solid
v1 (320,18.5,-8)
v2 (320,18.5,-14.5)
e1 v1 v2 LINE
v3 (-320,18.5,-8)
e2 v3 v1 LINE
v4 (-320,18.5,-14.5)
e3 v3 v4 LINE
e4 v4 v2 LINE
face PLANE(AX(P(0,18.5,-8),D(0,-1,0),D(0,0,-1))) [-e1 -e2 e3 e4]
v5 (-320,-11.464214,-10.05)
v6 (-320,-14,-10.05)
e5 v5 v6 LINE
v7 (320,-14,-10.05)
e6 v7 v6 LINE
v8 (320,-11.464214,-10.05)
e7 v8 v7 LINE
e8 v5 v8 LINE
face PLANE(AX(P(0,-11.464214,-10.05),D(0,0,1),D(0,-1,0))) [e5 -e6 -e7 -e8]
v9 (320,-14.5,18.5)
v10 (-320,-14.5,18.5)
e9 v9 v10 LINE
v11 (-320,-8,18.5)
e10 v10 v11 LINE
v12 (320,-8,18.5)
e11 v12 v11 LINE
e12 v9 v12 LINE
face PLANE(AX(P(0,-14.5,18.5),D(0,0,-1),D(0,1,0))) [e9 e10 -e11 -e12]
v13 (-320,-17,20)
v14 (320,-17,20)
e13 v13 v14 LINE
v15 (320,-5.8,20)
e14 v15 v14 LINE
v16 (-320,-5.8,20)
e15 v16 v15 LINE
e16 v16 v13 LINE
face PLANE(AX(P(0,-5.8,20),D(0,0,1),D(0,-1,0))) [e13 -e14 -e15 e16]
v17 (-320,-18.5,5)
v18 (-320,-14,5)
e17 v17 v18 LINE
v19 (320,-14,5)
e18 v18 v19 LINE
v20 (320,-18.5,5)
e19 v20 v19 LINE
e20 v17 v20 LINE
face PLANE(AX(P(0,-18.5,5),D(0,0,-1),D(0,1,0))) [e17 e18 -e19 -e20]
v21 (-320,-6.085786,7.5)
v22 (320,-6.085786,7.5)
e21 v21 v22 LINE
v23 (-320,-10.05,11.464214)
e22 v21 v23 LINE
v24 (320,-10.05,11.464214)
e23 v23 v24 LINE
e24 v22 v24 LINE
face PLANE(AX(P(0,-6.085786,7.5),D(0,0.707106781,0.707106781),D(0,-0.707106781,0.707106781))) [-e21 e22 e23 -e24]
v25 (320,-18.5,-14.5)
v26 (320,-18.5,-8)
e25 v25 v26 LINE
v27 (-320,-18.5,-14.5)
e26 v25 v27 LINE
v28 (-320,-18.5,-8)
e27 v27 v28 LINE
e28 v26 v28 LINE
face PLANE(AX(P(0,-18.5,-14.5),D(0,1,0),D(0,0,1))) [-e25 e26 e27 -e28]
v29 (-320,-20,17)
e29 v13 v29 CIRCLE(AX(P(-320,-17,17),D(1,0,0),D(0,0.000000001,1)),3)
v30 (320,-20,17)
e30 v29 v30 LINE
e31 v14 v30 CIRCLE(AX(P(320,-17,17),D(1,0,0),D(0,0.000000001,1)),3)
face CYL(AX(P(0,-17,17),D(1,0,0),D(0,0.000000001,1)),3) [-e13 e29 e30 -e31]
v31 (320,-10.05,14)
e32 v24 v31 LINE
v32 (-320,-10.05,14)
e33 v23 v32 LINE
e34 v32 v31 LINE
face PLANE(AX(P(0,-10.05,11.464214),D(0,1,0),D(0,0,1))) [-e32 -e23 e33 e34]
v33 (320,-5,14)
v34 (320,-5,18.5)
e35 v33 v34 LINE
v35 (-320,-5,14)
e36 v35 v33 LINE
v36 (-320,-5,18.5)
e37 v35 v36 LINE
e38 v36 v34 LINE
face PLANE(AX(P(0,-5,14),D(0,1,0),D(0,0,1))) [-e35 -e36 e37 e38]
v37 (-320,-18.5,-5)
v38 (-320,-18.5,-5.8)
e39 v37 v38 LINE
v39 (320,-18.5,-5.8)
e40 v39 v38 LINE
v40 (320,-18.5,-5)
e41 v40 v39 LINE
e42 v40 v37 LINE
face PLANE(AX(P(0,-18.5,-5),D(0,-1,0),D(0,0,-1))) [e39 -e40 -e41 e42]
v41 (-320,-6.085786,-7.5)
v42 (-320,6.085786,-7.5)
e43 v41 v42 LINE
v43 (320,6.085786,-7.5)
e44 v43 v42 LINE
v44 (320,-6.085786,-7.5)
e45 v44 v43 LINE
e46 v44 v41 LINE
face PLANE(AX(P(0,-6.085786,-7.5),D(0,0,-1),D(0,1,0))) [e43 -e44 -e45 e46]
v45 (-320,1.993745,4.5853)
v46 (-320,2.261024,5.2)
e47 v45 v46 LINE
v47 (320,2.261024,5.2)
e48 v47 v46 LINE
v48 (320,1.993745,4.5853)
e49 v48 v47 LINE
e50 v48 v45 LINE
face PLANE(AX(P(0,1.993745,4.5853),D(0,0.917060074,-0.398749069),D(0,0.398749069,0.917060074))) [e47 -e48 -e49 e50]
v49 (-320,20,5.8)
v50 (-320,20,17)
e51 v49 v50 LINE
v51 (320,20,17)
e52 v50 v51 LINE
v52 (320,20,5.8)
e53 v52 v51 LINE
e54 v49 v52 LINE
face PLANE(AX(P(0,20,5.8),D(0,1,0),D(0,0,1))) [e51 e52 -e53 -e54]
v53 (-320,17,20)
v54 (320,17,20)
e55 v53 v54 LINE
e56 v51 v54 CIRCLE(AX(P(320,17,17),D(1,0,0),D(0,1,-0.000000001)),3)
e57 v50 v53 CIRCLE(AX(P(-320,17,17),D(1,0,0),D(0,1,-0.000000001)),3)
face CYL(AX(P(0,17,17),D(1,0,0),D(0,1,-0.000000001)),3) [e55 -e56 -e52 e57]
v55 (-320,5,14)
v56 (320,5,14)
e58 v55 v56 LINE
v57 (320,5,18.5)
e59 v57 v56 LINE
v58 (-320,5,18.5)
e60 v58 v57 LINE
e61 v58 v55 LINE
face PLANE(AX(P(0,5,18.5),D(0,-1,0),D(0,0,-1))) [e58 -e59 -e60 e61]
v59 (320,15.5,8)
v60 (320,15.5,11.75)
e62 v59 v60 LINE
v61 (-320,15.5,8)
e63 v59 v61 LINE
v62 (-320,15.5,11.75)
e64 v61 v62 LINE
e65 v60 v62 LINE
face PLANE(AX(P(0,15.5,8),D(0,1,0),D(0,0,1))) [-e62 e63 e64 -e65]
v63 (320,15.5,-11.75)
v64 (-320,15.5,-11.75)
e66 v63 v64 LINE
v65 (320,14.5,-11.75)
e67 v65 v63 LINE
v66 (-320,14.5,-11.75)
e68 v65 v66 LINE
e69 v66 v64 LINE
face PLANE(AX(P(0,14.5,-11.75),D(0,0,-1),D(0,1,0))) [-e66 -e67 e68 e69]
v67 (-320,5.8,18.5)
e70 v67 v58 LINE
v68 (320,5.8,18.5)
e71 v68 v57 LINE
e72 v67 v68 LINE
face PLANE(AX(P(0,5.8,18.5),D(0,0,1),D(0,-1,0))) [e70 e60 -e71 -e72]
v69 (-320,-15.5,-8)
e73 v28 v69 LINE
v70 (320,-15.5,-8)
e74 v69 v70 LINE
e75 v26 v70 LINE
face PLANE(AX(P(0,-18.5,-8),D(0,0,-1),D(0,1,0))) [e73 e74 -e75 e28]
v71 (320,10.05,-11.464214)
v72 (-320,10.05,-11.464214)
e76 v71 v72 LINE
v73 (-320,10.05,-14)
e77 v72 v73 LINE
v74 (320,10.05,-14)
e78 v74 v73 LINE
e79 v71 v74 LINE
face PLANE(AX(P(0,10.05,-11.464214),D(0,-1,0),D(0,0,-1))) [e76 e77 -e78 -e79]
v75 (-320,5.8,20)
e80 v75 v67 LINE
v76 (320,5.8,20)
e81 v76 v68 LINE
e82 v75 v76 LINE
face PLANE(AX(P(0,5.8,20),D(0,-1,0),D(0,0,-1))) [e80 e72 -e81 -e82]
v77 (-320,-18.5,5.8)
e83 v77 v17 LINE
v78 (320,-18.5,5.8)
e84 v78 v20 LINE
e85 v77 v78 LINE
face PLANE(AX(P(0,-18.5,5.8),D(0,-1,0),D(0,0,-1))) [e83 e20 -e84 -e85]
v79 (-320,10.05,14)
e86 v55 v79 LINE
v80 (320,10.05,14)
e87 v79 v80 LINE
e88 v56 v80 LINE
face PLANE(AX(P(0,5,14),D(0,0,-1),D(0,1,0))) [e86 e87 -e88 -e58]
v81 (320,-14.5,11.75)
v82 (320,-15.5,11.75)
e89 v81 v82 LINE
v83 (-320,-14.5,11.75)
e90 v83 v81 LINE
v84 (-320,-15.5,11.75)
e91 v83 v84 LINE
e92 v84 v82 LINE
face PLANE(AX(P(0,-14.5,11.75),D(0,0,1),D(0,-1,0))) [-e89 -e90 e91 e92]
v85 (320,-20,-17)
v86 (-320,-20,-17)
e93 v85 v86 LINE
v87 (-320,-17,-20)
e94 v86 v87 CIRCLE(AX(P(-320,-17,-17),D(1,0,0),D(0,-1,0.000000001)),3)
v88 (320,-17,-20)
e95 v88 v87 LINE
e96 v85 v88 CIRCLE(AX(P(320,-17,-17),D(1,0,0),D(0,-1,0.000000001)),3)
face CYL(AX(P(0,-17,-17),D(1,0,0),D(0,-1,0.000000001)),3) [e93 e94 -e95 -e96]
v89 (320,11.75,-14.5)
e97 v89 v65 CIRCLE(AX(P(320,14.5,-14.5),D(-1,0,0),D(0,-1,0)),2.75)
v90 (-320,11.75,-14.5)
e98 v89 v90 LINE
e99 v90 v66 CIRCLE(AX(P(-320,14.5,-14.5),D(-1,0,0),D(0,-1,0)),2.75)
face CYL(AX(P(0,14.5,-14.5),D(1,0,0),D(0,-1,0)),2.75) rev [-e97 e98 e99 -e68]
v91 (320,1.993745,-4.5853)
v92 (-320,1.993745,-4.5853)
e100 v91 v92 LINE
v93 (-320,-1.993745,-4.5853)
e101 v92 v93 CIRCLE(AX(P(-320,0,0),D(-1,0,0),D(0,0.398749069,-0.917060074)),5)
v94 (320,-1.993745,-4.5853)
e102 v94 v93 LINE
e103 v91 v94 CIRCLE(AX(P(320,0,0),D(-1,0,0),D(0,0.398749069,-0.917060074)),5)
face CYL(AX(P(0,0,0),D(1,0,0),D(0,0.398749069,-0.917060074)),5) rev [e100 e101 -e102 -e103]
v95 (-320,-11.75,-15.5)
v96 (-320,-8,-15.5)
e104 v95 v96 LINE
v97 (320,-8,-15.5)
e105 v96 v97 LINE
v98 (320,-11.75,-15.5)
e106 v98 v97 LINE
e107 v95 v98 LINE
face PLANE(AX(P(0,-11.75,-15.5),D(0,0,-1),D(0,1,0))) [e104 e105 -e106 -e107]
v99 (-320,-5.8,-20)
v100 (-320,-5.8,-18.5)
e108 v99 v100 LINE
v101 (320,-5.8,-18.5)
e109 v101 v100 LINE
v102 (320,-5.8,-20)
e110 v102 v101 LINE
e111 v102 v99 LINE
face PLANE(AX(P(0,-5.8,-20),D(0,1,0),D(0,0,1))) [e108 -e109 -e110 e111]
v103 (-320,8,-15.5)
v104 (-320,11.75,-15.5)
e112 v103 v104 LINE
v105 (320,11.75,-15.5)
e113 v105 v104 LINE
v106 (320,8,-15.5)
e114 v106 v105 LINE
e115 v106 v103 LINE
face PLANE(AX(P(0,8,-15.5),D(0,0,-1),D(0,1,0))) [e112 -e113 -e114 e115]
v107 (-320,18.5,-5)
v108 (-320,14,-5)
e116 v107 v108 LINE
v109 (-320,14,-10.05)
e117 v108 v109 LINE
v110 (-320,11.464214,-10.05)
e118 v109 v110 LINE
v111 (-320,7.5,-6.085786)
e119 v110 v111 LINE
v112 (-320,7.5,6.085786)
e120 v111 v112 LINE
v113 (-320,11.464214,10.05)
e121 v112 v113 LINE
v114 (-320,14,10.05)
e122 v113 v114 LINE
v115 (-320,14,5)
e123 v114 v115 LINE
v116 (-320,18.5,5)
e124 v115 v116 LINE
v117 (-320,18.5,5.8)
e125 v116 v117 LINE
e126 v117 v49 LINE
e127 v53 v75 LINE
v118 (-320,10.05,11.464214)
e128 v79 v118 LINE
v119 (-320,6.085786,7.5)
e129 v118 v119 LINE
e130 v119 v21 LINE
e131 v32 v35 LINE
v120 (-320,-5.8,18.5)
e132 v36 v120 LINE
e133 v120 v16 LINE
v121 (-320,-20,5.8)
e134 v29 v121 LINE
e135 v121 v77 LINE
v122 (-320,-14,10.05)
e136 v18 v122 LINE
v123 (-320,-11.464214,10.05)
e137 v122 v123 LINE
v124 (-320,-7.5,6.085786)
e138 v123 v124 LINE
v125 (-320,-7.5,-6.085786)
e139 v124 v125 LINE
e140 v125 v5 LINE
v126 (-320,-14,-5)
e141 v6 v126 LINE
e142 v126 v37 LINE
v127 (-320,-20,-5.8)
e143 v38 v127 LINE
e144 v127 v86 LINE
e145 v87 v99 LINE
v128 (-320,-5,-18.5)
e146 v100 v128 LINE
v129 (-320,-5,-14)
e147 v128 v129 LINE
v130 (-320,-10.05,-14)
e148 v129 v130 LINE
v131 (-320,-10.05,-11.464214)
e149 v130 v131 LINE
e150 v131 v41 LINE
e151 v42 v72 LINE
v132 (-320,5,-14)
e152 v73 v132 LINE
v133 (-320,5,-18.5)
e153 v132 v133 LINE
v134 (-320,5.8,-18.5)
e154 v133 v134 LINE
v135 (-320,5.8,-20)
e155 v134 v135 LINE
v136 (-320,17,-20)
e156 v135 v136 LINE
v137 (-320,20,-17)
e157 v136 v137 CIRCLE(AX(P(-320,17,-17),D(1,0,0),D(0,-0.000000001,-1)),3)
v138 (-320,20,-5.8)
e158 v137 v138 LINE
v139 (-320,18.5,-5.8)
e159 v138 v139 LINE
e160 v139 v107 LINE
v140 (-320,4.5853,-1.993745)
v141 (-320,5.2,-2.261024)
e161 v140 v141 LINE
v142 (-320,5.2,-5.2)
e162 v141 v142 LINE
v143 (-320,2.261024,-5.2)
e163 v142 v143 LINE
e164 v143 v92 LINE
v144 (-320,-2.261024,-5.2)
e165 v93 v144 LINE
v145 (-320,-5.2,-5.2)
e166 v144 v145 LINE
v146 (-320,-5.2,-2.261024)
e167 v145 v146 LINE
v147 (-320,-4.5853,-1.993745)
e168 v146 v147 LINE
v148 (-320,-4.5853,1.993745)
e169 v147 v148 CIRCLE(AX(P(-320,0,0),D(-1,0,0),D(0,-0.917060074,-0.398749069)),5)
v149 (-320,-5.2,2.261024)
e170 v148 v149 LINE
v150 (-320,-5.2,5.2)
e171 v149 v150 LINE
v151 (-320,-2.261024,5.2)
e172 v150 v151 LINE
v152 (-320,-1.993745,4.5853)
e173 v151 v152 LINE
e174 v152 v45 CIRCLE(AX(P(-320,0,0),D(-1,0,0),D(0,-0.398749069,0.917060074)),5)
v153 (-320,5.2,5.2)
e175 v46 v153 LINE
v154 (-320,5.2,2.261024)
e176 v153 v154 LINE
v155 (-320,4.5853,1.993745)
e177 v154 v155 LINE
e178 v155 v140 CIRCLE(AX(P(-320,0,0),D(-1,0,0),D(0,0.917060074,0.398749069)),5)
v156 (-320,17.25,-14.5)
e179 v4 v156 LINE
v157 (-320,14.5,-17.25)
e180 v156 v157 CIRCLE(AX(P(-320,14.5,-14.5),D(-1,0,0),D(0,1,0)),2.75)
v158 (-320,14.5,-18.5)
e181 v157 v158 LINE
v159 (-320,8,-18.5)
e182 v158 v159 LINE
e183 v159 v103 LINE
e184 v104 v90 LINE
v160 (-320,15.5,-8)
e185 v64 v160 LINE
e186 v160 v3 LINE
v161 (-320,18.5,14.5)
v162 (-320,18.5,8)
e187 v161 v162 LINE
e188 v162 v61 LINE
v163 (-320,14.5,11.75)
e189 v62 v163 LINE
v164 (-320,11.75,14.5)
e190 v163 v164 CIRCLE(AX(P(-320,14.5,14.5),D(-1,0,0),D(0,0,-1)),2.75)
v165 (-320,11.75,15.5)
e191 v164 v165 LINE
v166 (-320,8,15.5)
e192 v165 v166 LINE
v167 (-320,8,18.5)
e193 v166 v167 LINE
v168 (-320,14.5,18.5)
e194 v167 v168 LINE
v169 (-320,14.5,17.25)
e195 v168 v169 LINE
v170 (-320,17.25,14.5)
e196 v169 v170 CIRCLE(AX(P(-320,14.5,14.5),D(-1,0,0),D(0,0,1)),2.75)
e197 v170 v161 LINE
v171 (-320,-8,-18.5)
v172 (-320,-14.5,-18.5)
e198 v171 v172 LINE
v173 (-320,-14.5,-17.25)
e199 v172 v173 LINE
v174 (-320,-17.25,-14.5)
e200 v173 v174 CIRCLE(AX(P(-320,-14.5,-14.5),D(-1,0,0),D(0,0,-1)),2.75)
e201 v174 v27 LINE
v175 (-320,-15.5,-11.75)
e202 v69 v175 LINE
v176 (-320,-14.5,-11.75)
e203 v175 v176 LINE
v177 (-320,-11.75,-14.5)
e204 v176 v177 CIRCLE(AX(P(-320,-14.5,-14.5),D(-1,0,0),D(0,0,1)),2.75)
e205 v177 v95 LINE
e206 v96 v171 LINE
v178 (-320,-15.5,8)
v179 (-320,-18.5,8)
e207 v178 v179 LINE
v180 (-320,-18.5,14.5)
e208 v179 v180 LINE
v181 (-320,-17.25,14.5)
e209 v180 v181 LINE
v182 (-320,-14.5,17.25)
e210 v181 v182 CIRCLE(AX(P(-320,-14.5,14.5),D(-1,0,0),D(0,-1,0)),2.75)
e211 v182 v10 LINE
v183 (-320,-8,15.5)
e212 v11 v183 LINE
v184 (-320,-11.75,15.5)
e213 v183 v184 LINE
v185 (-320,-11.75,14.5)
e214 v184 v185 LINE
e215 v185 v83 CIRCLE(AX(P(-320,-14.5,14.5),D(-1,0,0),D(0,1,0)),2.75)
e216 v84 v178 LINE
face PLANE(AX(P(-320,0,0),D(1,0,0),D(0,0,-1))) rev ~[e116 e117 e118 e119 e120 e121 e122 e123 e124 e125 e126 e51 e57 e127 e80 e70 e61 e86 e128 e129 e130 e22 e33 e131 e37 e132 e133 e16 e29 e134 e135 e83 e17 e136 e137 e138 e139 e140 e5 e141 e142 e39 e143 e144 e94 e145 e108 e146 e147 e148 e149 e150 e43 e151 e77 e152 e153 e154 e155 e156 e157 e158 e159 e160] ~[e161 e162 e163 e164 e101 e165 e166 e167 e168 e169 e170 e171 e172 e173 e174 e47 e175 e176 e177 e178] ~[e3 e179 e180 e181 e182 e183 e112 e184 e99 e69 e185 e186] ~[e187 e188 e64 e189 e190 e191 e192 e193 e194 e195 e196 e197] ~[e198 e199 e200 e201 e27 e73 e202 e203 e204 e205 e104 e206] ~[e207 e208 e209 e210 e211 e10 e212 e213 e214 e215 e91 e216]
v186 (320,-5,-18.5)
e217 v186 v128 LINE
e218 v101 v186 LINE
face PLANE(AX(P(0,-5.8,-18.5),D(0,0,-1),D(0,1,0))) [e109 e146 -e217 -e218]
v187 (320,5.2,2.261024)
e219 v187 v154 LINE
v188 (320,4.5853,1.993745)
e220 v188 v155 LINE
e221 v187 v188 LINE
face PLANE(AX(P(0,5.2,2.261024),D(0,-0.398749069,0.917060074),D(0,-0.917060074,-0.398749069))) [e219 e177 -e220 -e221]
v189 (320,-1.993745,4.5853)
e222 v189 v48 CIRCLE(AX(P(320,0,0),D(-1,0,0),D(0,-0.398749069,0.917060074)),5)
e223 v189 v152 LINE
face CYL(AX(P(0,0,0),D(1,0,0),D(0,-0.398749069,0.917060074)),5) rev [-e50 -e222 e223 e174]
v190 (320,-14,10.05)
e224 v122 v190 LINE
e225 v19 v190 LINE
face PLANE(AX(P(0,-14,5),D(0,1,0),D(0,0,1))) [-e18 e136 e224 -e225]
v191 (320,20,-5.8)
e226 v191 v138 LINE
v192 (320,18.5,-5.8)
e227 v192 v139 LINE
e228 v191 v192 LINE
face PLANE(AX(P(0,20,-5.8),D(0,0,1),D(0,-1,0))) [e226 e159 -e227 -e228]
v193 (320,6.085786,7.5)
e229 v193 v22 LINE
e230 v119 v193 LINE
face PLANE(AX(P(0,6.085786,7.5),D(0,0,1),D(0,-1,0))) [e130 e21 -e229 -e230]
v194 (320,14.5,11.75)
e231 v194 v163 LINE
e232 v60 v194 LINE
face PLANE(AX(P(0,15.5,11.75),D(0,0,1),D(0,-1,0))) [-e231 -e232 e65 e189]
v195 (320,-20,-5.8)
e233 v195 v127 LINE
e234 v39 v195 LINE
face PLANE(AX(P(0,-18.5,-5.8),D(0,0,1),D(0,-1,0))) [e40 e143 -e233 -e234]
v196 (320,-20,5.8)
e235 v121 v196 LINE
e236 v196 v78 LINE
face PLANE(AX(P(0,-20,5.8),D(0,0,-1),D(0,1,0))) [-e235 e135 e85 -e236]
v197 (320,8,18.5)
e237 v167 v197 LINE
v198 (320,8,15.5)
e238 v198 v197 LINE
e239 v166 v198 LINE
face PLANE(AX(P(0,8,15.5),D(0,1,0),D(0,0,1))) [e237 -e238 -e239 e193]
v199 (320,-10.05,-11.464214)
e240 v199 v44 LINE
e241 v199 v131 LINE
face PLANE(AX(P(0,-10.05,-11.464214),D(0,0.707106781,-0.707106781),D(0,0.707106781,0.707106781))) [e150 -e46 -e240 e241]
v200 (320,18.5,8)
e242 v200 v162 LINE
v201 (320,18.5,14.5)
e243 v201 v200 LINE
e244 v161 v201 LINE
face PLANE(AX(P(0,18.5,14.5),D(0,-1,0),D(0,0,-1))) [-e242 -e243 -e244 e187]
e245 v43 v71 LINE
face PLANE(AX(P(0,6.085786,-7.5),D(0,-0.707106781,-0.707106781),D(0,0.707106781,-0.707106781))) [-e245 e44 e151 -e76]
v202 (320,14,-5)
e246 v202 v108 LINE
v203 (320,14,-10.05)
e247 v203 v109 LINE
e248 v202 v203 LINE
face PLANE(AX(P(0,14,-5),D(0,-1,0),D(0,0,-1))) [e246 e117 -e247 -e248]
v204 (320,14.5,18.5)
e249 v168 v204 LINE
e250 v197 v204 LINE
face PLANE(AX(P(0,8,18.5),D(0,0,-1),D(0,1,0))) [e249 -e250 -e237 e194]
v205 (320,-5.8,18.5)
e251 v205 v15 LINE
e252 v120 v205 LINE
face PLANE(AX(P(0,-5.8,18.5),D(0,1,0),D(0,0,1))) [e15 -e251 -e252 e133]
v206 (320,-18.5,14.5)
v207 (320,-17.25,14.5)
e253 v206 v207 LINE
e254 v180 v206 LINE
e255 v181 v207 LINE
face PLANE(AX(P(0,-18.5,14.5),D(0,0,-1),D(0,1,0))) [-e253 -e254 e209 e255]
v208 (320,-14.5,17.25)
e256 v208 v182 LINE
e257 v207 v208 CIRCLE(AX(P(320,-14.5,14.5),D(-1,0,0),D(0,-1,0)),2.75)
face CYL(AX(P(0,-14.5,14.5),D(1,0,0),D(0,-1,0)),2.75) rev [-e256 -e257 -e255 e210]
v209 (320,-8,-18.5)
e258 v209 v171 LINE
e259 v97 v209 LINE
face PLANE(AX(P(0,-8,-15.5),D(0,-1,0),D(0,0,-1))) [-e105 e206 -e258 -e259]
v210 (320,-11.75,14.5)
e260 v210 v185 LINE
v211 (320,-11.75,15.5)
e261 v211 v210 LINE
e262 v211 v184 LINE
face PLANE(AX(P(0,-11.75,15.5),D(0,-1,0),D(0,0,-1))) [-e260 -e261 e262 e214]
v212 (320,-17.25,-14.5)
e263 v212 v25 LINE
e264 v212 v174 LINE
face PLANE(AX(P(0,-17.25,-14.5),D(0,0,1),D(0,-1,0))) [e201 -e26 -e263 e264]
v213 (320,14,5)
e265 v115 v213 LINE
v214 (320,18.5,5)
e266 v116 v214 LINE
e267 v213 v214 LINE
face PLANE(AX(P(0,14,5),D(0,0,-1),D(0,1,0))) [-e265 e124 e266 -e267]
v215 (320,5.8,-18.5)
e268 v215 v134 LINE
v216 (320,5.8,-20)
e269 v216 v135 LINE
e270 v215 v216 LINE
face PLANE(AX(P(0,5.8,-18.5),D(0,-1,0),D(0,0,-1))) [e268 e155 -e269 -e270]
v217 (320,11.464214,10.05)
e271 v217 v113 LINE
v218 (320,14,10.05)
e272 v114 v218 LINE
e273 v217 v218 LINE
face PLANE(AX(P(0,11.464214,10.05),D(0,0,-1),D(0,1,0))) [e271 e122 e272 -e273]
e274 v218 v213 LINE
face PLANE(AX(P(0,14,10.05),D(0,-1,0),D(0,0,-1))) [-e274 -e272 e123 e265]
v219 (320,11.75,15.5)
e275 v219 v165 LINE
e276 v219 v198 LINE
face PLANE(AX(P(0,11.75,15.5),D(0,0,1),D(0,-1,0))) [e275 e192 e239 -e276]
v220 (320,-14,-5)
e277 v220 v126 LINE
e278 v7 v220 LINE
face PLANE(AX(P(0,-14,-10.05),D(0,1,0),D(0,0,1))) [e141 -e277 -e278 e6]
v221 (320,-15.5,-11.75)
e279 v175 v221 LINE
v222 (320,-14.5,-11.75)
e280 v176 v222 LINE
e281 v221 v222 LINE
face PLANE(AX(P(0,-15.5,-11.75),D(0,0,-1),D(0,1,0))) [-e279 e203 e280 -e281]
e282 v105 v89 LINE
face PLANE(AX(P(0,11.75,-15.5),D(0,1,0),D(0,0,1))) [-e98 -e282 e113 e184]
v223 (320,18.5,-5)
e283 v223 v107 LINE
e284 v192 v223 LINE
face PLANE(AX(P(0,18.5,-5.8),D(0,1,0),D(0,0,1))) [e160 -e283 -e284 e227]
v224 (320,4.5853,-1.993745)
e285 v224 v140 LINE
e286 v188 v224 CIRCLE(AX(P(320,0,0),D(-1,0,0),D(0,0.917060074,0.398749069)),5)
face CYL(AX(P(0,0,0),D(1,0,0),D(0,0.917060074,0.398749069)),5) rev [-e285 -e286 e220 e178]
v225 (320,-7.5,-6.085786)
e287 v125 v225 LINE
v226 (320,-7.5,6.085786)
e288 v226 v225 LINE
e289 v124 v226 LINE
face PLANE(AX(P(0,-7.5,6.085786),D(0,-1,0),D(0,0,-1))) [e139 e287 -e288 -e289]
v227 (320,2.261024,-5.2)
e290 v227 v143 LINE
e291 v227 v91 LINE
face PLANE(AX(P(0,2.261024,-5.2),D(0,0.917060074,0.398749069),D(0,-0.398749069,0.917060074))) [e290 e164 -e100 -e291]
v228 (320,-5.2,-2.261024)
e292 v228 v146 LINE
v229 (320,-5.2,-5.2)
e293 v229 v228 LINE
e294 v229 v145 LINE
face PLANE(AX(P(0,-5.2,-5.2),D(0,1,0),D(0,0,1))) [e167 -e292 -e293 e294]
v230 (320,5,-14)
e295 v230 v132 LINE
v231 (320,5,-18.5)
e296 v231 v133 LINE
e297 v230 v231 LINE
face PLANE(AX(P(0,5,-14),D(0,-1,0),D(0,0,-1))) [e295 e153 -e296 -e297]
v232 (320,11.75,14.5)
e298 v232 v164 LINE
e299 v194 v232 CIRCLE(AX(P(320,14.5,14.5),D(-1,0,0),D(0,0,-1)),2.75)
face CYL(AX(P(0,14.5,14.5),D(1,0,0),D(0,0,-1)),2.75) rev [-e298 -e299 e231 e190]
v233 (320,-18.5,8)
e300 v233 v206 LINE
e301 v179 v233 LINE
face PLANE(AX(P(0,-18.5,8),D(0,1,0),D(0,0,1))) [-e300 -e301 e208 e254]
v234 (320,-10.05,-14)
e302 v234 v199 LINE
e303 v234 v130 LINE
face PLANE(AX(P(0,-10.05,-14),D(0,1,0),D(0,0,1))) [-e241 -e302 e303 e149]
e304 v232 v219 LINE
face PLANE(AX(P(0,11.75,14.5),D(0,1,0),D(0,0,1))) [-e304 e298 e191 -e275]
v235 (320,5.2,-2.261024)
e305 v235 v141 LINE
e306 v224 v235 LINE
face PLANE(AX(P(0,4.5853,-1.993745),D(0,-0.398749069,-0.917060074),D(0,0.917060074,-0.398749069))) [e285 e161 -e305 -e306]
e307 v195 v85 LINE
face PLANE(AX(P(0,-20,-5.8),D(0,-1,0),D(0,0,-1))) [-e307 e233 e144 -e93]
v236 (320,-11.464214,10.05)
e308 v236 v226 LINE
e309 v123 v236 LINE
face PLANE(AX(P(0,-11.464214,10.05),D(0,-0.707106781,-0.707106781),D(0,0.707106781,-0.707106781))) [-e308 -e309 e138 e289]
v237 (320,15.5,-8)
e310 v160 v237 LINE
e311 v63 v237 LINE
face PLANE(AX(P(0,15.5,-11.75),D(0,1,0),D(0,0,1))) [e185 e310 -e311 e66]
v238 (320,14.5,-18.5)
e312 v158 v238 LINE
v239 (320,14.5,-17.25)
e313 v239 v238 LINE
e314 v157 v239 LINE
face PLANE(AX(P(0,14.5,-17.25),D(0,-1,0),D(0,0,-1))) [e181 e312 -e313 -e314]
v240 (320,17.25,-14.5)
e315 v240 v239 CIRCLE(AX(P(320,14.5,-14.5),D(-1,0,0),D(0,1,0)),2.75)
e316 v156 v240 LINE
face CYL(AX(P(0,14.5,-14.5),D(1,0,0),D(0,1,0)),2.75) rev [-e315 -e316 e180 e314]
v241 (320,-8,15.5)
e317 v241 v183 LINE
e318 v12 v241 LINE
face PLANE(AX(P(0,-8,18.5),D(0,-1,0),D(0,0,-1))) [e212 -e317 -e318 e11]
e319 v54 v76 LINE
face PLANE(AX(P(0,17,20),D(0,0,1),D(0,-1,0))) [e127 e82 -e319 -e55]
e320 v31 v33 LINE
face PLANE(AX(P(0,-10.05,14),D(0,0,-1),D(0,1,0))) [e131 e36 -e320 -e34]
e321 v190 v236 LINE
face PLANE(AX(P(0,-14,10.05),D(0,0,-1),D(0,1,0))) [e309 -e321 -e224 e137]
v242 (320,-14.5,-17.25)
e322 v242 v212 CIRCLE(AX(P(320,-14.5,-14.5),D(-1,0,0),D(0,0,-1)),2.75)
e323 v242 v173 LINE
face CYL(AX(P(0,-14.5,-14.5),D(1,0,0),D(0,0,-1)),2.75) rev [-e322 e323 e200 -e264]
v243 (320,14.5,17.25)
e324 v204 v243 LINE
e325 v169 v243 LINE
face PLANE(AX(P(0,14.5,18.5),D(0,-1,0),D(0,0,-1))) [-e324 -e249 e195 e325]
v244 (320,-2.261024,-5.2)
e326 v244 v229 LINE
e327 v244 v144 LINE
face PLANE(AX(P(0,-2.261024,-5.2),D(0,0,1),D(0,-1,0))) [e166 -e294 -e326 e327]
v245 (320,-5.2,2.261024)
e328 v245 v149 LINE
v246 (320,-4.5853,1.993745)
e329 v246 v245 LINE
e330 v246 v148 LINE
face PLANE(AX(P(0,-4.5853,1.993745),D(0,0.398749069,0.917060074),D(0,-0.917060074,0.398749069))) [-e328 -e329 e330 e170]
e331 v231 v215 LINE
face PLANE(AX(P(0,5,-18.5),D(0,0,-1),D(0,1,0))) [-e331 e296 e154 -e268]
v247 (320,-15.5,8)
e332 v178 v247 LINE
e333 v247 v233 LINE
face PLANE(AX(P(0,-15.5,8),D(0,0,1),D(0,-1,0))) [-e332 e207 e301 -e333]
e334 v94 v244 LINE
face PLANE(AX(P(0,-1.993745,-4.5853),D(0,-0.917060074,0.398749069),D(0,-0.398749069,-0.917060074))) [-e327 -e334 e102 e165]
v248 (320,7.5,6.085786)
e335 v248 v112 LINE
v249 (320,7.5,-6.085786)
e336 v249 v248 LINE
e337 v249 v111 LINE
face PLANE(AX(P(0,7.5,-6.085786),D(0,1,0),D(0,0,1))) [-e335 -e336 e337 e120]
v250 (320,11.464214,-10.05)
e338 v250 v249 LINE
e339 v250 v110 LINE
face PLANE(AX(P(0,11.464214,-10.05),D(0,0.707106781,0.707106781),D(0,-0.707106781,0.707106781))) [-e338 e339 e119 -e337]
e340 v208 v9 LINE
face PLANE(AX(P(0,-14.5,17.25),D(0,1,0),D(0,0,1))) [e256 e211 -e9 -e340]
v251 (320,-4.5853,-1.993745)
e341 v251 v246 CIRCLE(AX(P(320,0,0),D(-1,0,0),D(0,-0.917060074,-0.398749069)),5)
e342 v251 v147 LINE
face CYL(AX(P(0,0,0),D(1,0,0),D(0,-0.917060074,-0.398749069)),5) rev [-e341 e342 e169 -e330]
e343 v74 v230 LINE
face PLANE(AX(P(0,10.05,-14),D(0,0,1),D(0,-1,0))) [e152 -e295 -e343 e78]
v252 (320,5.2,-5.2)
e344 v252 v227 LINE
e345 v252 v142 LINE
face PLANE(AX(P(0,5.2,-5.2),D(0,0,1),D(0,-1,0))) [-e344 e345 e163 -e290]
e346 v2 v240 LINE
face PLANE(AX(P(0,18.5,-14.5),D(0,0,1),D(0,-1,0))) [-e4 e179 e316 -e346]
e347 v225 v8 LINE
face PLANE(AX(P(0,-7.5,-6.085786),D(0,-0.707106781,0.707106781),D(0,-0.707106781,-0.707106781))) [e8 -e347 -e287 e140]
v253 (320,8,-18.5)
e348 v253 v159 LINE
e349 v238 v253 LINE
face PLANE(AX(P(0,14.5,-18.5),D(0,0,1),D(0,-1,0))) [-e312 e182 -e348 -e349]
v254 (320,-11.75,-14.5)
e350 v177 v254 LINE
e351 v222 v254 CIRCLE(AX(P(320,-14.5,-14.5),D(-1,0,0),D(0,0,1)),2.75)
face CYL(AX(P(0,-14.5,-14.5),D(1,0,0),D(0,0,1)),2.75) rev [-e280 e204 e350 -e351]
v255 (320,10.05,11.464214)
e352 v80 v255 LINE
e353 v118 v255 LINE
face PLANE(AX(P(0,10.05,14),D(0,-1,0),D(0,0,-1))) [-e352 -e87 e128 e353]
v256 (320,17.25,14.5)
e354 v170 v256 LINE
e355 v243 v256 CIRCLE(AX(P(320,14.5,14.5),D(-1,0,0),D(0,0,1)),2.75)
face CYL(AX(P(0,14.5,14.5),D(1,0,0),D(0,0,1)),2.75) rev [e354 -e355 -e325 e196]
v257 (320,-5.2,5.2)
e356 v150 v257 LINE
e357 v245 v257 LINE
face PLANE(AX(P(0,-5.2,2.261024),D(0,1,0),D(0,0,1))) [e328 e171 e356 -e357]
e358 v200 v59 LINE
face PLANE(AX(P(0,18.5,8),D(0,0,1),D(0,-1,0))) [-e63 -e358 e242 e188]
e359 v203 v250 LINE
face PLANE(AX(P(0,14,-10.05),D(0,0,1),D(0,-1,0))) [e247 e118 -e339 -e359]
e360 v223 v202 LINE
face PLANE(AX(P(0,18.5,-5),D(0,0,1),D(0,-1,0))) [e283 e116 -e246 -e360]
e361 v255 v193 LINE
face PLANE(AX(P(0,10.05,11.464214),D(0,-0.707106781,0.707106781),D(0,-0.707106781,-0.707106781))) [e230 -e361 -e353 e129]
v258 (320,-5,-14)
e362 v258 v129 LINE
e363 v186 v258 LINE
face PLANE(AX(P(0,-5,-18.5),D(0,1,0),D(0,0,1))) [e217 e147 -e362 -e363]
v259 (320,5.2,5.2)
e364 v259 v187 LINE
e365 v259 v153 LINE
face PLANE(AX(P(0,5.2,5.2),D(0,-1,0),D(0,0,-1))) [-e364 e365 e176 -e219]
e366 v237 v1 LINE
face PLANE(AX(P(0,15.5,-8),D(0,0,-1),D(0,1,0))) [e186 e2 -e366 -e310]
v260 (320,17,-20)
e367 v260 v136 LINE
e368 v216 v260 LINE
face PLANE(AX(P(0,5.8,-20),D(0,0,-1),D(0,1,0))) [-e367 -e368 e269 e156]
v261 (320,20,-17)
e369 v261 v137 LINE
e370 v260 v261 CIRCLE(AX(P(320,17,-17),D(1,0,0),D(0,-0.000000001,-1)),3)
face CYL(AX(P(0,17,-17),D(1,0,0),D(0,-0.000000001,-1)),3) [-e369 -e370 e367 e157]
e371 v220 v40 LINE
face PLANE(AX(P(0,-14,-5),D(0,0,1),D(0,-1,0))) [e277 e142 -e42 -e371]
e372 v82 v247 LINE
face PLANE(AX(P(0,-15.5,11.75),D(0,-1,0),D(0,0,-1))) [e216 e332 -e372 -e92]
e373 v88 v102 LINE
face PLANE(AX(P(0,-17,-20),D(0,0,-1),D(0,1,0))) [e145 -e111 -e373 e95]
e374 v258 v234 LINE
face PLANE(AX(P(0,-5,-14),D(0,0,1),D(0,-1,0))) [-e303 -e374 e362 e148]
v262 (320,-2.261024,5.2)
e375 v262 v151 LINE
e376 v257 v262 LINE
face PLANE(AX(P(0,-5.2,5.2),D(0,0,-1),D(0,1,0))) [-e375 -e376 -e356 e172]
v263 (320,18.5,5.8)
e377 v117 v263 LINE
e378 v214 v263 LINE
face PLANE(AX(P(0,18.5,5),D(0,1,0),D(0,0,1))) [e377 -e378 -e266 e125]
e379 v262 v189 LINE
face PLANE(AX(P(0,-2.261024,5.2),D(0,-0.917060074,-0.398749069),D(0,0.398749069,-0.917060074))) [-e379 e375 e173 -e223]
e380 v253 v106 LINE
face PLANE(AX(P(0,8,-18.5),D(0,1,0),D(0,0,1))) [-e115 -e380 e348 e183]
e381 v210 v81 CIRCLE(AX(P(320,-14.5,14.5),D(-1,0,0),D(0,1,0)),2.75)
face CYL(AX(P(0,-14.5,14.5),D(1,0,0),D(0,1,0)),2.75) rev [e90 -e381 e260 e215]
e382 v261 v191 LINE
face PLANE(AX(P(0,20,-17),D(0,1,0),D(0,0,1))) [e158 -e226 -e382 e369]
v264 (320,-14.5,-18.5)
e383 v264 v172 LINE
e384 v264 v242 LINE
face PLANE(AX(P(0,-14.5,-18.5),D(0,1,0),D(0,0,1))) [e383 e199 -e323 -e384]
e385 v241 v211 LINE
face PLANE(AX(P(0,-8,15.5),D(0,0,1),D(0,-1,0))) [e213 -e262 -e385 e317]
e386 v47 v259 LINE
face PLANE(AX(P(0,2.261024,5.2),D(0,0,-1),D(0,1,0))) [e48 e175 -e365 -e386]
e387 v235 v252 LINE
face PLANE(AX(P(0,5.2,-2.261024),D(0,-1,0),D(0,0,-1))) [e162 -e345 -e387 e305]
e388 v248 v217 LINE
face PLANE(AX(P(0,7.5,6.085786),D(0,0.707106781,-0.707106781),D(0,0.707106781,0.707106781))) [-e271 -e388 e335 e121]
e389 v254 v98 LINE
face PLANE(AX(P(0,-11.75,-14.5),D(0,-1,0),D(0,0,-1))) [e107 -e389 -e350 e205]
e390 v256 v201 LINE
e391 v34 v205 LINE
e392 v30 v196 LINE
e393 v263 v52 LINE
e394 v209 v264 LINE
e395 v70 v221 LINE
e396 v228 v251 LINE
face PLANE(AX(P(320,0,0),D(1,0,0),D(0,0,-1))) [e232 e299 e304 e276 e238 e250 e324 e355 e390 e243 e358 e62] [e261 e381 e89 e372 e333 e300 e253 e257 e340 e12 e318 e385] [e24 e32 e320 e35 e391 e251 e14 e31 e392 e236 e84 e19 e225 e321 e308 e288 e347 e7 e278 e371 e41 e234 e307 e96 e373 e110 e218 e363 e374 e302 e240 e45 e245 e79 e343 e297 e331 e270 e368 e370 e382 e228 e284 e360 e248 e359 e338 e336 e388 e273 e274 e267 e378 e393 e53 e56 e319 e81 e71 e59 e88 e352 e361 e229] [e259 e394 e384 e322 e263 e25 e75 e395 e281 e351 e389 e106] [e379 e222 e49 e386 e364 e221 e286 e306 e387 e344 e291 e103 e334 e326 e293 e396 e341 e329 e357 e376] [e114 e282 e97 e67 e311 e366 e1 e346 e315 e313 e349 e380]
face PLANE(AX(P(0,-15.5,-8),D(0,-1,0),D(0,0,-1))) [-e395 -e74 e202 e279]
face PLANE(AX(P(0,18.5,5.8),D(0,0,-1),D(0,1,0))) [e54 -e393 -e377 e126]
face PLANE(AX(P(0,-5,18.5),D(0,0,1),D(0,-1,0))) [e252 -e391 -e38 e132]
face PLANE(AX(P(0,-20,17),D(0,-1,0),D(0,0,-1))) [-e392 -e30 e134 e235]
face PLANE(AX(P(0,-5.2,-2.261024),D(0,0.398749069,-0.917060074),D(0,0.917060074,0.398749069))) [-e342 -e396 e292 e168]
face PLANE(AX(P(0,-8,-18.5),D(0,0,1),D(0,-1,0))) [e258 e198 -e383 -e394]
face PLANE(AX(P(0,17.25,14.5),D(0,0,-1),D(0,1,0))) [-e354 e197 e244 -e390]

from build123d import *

# Parameters (mm, degrees)
BR_EXTRUDE_DEPTH      = 320
BR_EXTRUDE_DEPTH_BACK = 320


with BuildPart() as part:
    # Sketch2 → BR_Extrude (new body, two sides)
    with BuildSketch(Plane(origin=(0, 0, 0), x_dir=(0, 0, -1), z_dir=(1, 0, 0))) as br_extrude_sk:
        with BuildLine():
            Line((-10.05, 11.464213562), (-10.05, 14))
            Line((-10.05, 14), (-5, 14))
            Line((-5, 14), (-5, 18.5))
            Line((-5, 18.5), (-5.8, 18.5))
            Line((-5.8, 18.5), (-5.8, 20))
            Line((-5.8, 20), (-17, 20))
            ThreePointArc((-17, 20), (-19.121320344, 19.121320344), (-20, 17))
            Line((-20, 17), (-20, 5.8))
            Line((-20, 5.8), (-18.5, 5.8))
            Line((-18.5, 5.8), (-18.5, 5))
            Line((-18.5, 5), (-14, 5))
            Line((-14, 5), (-14, 10.05))
            Line((-14, 10.05), (-11.464213562, 10.05))
            Line((-11.464213562, 10.05), (-7.5, 6.085786438))
            Line((-7.5, 6.085786438), (-7.5, -6.085786438))
            Line((-7.5, -6.085786438), (-11.464213562, -10.05))
            Line((-11.464213562, -10.05), (-14, -10.05))
            Line((-14, -10.05), (-14, -5))
            Line((-14, -5), (-18.5, -5))
            Line((-18.5, -5), (-18.5, -5.8))
            Line((-18.5, -5.8), (-20, -5.8))
            Line((-20, -5.8), (-20, -17))
            ThreePointArc((-20, -17), (-19.121320344, -19.121320344), (-17, -20))
            Line((-17, -20), (-5.8, -20))
            Line((-5.8, -20), (-5.8, -18.5))
            Line((-5.8, -18.5), (-5, -18.5))
            Line((-5, -18.5), (-5, -14))
            Line((-5, -14), (-10.05, -14))
            Line((-10.05, -14), (-10.05, -11.464213562))
            Line((-10.05, -11.464213562), (-6.085786438, -7.5))
            Line((-6.085786438, -7.5), (6.085786438, -7.5))
            Line((6.085786438, -7.5), (10.05, -11.464213562))
            Line((10.05, -11.464213562), (10.05, -14))
            Line((10.05, -14), (5, -14))
            Line((5, -14), (5, -18.5))
            Line((5, -18.5), (5.8, -18.5))
            Line((5.8, -18.5), (5.8, -20))
            Line((5.8, -20), (17, -20))
            ThreePointArc((17, -20), (19.121320344, -19.121320344), (20, -17))
            Line((20, -17), (20, -5.8))
            Line((20, -5.8), (18.5, -5.8))
            Line((18.5, -5.8), (18.5, -5))
            Line((18.5, -5), (14, -5))
            Line((14, -5), (14, -10.05))
            Line((14, -10.05), (11.464213562, -10.05))
            Line((11.464213562, -10.05), (7.5, -6.085786438))
            Line((7.5, -6.085786438), (7.5, 6.085786438))
            Line((7.5, 6.085786438), (11.464213562, 10.05))
            Line((11.464213562, 10.05), (14, 10.05))
            Line((14, 10.05), (14, 5))
            Line((14, 5), (18.5, 5))
            Line((18.5, 5), (18.5, 5.8))
            Line((18.5, 5.8), (20, 5.8))
            Line((20, 5.8), (20, 17))
            ThreePointArc((20, 17), (19.121320344, 19.121320344), (17, 20))
            Line((17, 20), (5.8, 20))
            Line((5.8, 20), (5.8, 18.5))
            Line((5.8, 18.5), (5, 18.5))
            Line((5, 18.5), (5, 14))
            Line((5, 14), (10.05, 14))
            Line((10.05, 14), (10.05, 11.464213562))
            Line((10.05, 11.464213562), (6.085786438, 7.5))
            Line((6.085786438, 7.5), (-6.085786438, 7.5))
            Line((-6.085786438, 7.5), (-10.05, 11.464213562))
        make_face()
        with BuildLine():
            Line((8, 15.5), (8, 18.5))
            Line((8, 18.5), (14.5, 18.5))
            Line((14.5, 18.5), (14.5, 17.25))
            ThreePointArc((14.5, 17.25), (16.444543648, 16.444543648), (17.25, 14.5))
            Line((17.25, 14.5), (18.5, 14.5))
            Line((18.5, 14.5), (18.5, 8))
            Line((18.5, 8), (15.5, 8))
            Line((15.5, 8), (15.5, 11.75))
            Line((15.5, 11.75), (14.5, 11.75))
            ThreePointArc((14.5, 11.75), (12.555456352, 12.555456352), (11.75, 14.5))
            Line((11.75, 14.5), (11.75, 15.5))
            Line((11.75, 15.5), (8, 15.5))
        make_face(mode=Mode.SUBTRACT)
        with BuildLine():
            Line((8, -15.5), (11.75, -15.5))
            Line((11.75, -15.5), (11.75, -14.5))
            ThreePointArc((11.75, -14.5), (12.555456352, -12.555456352), (14.5, -11.75))
            Line((14.5, -11.75), (15.5, -11.75))
            Line((15.5, -11.75), (15.5, -8))
            Line((15.5, -8), (18.5, -8))
            Line((18.5, -8), (18.5, -14.5))
            Line((18.5, -14.5), (17.25, -14.5))
            ThreePointArc((17.25, -14.5), (16.444543648, -16.444543648), (14.5, -17.25))
            Line((14.5, -17.25), (14.5, -18.5))
            Line((14.5, -18.5), (8, -18.5))
            Line((8, -18.5), (8, -15.5))
        make_face(mode=Mode.SUBTRACT)
        with BuildLine():
            Line((-15.5, 8), (-18.5, 8))
            Line((-18.5, 8), (-18.5, 14.5))
            Line((-18.5, 14.5), (-17.25, 14.5))
            ThreePointArc((-17.25, 14.5), (-16.444543648, 16.444543648), (-14.5, 17.25))
            Line((-14.5, 17.25), (-14.5, 18.5))
            Line((-14.5, 18.5), (-8, 18.5))
            Line((-8, 18.5), (-8, 15.5))
            Line((-8, 15.5), (-11.75, 15.5))
            Line((-11.75, 15.5), (-11.75, 14.5))
            ThreePointArc((-11.75, 14.5), (-12.555456352, 12.555456352), (-14.5, 11.75))
            Line((-14.5, 11.75), (-15.5, 11.75))
            Line((-15.5, 11.75), (-15.5, 8))
        make_face(mode=Mode.SUBTRACT)
        with BuildLine():
            Line((-11.75, -14.5), (-11.75, -15.5))
            Line((-11.75, -15.5), (-8, -15.5))
            Line((-8, -15.5), (-8, -18.5))
            Line((-8, -18.5), (-14.5, -18.5))
            Line((-14.5, -18.5), (-14.5, -17.25))
            ThreePointArc((-14.5, -17.25), (-16.444543648, -16.444543648), (-17.25, -14.5))
            Line((-17.25, -14.5), (-18.5, -14.5))
            Line((-18.5, -14.5), (-18.5, -8))
            Line((-18.5, -8), (-15.5, -8))
            Line((-15.5, -8), (-15.5, -11.75))
            Line((-15.5, -11.75), (-14.5, -11.75))
            ThreePointArc((-14.5, -11.75), (-12.555456352, -12.555456352), (-11.75, -14.5))
        make_face(mode=Mode.SUBTRACT)
        with BuildLine():
            Line((-5.2, -5.2), (-5.2, -2.26102435))
            Line((-5.2, -2.26102435), (-4.585300372, -1.993745345))
            ThreePointArc((-4.585300372, -1.993745345), (-5, 0), (-4.585300372, 1.993745345))
            Line((-4.585300372, 1.993745345), (-5.2, 2.26102435))
            Line((-5.2, 2.26102435), (-5.2, 5.2))
            Line((-5.2, 5.2), (-2.26102435, 5.2))
            Line((-2.26102435, 5.2), (-1.993745345, 4.585300372))
            ThreePointArc((-1.993745345, 4.585300372), (0, 5), (1.993745345, 4.585300372))
            Line((1.993745345, 4.585300372), (2.26102435, 5.2))
            Line((2.26102435, 5.2), (5.2, 5.2))
            Line((5.2, 5.2), (5.2, 2.26102435))
            Line((5.2, 2.26102435), (4.585300372, 1.993745345))
            ThreePointArc((4.585300372, 1.993745345), (5, 0), (4.585300372, -1.993745345))
            Line((4.585300372, -1.993745345), (5.2, -2.26102435))
            Line((5.2, -2.26102435), (5.2, -5.2))
            Line((5.2, -5.2), (2.26102435, -5.2))
            Line((2.26102435, -5.2), (1.993745345, -4.585300372))
            ThreePointArc((1.993745345, -4.585300372), (0, -5), (-1.993745345, -4.585300372))
            Line((-1.993745345, -4.585300372), (-2.26102435, -5.2))
            Line((-2.26102435, -5.2), (-5.2, -5.2))
        make_face(mode=Mode.SUBTRACT)
    extrude(amount=BR_EXTRUDE_DEPTH)
    extrude(br_extrude_sk.sketch, amount=-BR_EXTRUDE_DEPTH_BACK)


solid = part.part
